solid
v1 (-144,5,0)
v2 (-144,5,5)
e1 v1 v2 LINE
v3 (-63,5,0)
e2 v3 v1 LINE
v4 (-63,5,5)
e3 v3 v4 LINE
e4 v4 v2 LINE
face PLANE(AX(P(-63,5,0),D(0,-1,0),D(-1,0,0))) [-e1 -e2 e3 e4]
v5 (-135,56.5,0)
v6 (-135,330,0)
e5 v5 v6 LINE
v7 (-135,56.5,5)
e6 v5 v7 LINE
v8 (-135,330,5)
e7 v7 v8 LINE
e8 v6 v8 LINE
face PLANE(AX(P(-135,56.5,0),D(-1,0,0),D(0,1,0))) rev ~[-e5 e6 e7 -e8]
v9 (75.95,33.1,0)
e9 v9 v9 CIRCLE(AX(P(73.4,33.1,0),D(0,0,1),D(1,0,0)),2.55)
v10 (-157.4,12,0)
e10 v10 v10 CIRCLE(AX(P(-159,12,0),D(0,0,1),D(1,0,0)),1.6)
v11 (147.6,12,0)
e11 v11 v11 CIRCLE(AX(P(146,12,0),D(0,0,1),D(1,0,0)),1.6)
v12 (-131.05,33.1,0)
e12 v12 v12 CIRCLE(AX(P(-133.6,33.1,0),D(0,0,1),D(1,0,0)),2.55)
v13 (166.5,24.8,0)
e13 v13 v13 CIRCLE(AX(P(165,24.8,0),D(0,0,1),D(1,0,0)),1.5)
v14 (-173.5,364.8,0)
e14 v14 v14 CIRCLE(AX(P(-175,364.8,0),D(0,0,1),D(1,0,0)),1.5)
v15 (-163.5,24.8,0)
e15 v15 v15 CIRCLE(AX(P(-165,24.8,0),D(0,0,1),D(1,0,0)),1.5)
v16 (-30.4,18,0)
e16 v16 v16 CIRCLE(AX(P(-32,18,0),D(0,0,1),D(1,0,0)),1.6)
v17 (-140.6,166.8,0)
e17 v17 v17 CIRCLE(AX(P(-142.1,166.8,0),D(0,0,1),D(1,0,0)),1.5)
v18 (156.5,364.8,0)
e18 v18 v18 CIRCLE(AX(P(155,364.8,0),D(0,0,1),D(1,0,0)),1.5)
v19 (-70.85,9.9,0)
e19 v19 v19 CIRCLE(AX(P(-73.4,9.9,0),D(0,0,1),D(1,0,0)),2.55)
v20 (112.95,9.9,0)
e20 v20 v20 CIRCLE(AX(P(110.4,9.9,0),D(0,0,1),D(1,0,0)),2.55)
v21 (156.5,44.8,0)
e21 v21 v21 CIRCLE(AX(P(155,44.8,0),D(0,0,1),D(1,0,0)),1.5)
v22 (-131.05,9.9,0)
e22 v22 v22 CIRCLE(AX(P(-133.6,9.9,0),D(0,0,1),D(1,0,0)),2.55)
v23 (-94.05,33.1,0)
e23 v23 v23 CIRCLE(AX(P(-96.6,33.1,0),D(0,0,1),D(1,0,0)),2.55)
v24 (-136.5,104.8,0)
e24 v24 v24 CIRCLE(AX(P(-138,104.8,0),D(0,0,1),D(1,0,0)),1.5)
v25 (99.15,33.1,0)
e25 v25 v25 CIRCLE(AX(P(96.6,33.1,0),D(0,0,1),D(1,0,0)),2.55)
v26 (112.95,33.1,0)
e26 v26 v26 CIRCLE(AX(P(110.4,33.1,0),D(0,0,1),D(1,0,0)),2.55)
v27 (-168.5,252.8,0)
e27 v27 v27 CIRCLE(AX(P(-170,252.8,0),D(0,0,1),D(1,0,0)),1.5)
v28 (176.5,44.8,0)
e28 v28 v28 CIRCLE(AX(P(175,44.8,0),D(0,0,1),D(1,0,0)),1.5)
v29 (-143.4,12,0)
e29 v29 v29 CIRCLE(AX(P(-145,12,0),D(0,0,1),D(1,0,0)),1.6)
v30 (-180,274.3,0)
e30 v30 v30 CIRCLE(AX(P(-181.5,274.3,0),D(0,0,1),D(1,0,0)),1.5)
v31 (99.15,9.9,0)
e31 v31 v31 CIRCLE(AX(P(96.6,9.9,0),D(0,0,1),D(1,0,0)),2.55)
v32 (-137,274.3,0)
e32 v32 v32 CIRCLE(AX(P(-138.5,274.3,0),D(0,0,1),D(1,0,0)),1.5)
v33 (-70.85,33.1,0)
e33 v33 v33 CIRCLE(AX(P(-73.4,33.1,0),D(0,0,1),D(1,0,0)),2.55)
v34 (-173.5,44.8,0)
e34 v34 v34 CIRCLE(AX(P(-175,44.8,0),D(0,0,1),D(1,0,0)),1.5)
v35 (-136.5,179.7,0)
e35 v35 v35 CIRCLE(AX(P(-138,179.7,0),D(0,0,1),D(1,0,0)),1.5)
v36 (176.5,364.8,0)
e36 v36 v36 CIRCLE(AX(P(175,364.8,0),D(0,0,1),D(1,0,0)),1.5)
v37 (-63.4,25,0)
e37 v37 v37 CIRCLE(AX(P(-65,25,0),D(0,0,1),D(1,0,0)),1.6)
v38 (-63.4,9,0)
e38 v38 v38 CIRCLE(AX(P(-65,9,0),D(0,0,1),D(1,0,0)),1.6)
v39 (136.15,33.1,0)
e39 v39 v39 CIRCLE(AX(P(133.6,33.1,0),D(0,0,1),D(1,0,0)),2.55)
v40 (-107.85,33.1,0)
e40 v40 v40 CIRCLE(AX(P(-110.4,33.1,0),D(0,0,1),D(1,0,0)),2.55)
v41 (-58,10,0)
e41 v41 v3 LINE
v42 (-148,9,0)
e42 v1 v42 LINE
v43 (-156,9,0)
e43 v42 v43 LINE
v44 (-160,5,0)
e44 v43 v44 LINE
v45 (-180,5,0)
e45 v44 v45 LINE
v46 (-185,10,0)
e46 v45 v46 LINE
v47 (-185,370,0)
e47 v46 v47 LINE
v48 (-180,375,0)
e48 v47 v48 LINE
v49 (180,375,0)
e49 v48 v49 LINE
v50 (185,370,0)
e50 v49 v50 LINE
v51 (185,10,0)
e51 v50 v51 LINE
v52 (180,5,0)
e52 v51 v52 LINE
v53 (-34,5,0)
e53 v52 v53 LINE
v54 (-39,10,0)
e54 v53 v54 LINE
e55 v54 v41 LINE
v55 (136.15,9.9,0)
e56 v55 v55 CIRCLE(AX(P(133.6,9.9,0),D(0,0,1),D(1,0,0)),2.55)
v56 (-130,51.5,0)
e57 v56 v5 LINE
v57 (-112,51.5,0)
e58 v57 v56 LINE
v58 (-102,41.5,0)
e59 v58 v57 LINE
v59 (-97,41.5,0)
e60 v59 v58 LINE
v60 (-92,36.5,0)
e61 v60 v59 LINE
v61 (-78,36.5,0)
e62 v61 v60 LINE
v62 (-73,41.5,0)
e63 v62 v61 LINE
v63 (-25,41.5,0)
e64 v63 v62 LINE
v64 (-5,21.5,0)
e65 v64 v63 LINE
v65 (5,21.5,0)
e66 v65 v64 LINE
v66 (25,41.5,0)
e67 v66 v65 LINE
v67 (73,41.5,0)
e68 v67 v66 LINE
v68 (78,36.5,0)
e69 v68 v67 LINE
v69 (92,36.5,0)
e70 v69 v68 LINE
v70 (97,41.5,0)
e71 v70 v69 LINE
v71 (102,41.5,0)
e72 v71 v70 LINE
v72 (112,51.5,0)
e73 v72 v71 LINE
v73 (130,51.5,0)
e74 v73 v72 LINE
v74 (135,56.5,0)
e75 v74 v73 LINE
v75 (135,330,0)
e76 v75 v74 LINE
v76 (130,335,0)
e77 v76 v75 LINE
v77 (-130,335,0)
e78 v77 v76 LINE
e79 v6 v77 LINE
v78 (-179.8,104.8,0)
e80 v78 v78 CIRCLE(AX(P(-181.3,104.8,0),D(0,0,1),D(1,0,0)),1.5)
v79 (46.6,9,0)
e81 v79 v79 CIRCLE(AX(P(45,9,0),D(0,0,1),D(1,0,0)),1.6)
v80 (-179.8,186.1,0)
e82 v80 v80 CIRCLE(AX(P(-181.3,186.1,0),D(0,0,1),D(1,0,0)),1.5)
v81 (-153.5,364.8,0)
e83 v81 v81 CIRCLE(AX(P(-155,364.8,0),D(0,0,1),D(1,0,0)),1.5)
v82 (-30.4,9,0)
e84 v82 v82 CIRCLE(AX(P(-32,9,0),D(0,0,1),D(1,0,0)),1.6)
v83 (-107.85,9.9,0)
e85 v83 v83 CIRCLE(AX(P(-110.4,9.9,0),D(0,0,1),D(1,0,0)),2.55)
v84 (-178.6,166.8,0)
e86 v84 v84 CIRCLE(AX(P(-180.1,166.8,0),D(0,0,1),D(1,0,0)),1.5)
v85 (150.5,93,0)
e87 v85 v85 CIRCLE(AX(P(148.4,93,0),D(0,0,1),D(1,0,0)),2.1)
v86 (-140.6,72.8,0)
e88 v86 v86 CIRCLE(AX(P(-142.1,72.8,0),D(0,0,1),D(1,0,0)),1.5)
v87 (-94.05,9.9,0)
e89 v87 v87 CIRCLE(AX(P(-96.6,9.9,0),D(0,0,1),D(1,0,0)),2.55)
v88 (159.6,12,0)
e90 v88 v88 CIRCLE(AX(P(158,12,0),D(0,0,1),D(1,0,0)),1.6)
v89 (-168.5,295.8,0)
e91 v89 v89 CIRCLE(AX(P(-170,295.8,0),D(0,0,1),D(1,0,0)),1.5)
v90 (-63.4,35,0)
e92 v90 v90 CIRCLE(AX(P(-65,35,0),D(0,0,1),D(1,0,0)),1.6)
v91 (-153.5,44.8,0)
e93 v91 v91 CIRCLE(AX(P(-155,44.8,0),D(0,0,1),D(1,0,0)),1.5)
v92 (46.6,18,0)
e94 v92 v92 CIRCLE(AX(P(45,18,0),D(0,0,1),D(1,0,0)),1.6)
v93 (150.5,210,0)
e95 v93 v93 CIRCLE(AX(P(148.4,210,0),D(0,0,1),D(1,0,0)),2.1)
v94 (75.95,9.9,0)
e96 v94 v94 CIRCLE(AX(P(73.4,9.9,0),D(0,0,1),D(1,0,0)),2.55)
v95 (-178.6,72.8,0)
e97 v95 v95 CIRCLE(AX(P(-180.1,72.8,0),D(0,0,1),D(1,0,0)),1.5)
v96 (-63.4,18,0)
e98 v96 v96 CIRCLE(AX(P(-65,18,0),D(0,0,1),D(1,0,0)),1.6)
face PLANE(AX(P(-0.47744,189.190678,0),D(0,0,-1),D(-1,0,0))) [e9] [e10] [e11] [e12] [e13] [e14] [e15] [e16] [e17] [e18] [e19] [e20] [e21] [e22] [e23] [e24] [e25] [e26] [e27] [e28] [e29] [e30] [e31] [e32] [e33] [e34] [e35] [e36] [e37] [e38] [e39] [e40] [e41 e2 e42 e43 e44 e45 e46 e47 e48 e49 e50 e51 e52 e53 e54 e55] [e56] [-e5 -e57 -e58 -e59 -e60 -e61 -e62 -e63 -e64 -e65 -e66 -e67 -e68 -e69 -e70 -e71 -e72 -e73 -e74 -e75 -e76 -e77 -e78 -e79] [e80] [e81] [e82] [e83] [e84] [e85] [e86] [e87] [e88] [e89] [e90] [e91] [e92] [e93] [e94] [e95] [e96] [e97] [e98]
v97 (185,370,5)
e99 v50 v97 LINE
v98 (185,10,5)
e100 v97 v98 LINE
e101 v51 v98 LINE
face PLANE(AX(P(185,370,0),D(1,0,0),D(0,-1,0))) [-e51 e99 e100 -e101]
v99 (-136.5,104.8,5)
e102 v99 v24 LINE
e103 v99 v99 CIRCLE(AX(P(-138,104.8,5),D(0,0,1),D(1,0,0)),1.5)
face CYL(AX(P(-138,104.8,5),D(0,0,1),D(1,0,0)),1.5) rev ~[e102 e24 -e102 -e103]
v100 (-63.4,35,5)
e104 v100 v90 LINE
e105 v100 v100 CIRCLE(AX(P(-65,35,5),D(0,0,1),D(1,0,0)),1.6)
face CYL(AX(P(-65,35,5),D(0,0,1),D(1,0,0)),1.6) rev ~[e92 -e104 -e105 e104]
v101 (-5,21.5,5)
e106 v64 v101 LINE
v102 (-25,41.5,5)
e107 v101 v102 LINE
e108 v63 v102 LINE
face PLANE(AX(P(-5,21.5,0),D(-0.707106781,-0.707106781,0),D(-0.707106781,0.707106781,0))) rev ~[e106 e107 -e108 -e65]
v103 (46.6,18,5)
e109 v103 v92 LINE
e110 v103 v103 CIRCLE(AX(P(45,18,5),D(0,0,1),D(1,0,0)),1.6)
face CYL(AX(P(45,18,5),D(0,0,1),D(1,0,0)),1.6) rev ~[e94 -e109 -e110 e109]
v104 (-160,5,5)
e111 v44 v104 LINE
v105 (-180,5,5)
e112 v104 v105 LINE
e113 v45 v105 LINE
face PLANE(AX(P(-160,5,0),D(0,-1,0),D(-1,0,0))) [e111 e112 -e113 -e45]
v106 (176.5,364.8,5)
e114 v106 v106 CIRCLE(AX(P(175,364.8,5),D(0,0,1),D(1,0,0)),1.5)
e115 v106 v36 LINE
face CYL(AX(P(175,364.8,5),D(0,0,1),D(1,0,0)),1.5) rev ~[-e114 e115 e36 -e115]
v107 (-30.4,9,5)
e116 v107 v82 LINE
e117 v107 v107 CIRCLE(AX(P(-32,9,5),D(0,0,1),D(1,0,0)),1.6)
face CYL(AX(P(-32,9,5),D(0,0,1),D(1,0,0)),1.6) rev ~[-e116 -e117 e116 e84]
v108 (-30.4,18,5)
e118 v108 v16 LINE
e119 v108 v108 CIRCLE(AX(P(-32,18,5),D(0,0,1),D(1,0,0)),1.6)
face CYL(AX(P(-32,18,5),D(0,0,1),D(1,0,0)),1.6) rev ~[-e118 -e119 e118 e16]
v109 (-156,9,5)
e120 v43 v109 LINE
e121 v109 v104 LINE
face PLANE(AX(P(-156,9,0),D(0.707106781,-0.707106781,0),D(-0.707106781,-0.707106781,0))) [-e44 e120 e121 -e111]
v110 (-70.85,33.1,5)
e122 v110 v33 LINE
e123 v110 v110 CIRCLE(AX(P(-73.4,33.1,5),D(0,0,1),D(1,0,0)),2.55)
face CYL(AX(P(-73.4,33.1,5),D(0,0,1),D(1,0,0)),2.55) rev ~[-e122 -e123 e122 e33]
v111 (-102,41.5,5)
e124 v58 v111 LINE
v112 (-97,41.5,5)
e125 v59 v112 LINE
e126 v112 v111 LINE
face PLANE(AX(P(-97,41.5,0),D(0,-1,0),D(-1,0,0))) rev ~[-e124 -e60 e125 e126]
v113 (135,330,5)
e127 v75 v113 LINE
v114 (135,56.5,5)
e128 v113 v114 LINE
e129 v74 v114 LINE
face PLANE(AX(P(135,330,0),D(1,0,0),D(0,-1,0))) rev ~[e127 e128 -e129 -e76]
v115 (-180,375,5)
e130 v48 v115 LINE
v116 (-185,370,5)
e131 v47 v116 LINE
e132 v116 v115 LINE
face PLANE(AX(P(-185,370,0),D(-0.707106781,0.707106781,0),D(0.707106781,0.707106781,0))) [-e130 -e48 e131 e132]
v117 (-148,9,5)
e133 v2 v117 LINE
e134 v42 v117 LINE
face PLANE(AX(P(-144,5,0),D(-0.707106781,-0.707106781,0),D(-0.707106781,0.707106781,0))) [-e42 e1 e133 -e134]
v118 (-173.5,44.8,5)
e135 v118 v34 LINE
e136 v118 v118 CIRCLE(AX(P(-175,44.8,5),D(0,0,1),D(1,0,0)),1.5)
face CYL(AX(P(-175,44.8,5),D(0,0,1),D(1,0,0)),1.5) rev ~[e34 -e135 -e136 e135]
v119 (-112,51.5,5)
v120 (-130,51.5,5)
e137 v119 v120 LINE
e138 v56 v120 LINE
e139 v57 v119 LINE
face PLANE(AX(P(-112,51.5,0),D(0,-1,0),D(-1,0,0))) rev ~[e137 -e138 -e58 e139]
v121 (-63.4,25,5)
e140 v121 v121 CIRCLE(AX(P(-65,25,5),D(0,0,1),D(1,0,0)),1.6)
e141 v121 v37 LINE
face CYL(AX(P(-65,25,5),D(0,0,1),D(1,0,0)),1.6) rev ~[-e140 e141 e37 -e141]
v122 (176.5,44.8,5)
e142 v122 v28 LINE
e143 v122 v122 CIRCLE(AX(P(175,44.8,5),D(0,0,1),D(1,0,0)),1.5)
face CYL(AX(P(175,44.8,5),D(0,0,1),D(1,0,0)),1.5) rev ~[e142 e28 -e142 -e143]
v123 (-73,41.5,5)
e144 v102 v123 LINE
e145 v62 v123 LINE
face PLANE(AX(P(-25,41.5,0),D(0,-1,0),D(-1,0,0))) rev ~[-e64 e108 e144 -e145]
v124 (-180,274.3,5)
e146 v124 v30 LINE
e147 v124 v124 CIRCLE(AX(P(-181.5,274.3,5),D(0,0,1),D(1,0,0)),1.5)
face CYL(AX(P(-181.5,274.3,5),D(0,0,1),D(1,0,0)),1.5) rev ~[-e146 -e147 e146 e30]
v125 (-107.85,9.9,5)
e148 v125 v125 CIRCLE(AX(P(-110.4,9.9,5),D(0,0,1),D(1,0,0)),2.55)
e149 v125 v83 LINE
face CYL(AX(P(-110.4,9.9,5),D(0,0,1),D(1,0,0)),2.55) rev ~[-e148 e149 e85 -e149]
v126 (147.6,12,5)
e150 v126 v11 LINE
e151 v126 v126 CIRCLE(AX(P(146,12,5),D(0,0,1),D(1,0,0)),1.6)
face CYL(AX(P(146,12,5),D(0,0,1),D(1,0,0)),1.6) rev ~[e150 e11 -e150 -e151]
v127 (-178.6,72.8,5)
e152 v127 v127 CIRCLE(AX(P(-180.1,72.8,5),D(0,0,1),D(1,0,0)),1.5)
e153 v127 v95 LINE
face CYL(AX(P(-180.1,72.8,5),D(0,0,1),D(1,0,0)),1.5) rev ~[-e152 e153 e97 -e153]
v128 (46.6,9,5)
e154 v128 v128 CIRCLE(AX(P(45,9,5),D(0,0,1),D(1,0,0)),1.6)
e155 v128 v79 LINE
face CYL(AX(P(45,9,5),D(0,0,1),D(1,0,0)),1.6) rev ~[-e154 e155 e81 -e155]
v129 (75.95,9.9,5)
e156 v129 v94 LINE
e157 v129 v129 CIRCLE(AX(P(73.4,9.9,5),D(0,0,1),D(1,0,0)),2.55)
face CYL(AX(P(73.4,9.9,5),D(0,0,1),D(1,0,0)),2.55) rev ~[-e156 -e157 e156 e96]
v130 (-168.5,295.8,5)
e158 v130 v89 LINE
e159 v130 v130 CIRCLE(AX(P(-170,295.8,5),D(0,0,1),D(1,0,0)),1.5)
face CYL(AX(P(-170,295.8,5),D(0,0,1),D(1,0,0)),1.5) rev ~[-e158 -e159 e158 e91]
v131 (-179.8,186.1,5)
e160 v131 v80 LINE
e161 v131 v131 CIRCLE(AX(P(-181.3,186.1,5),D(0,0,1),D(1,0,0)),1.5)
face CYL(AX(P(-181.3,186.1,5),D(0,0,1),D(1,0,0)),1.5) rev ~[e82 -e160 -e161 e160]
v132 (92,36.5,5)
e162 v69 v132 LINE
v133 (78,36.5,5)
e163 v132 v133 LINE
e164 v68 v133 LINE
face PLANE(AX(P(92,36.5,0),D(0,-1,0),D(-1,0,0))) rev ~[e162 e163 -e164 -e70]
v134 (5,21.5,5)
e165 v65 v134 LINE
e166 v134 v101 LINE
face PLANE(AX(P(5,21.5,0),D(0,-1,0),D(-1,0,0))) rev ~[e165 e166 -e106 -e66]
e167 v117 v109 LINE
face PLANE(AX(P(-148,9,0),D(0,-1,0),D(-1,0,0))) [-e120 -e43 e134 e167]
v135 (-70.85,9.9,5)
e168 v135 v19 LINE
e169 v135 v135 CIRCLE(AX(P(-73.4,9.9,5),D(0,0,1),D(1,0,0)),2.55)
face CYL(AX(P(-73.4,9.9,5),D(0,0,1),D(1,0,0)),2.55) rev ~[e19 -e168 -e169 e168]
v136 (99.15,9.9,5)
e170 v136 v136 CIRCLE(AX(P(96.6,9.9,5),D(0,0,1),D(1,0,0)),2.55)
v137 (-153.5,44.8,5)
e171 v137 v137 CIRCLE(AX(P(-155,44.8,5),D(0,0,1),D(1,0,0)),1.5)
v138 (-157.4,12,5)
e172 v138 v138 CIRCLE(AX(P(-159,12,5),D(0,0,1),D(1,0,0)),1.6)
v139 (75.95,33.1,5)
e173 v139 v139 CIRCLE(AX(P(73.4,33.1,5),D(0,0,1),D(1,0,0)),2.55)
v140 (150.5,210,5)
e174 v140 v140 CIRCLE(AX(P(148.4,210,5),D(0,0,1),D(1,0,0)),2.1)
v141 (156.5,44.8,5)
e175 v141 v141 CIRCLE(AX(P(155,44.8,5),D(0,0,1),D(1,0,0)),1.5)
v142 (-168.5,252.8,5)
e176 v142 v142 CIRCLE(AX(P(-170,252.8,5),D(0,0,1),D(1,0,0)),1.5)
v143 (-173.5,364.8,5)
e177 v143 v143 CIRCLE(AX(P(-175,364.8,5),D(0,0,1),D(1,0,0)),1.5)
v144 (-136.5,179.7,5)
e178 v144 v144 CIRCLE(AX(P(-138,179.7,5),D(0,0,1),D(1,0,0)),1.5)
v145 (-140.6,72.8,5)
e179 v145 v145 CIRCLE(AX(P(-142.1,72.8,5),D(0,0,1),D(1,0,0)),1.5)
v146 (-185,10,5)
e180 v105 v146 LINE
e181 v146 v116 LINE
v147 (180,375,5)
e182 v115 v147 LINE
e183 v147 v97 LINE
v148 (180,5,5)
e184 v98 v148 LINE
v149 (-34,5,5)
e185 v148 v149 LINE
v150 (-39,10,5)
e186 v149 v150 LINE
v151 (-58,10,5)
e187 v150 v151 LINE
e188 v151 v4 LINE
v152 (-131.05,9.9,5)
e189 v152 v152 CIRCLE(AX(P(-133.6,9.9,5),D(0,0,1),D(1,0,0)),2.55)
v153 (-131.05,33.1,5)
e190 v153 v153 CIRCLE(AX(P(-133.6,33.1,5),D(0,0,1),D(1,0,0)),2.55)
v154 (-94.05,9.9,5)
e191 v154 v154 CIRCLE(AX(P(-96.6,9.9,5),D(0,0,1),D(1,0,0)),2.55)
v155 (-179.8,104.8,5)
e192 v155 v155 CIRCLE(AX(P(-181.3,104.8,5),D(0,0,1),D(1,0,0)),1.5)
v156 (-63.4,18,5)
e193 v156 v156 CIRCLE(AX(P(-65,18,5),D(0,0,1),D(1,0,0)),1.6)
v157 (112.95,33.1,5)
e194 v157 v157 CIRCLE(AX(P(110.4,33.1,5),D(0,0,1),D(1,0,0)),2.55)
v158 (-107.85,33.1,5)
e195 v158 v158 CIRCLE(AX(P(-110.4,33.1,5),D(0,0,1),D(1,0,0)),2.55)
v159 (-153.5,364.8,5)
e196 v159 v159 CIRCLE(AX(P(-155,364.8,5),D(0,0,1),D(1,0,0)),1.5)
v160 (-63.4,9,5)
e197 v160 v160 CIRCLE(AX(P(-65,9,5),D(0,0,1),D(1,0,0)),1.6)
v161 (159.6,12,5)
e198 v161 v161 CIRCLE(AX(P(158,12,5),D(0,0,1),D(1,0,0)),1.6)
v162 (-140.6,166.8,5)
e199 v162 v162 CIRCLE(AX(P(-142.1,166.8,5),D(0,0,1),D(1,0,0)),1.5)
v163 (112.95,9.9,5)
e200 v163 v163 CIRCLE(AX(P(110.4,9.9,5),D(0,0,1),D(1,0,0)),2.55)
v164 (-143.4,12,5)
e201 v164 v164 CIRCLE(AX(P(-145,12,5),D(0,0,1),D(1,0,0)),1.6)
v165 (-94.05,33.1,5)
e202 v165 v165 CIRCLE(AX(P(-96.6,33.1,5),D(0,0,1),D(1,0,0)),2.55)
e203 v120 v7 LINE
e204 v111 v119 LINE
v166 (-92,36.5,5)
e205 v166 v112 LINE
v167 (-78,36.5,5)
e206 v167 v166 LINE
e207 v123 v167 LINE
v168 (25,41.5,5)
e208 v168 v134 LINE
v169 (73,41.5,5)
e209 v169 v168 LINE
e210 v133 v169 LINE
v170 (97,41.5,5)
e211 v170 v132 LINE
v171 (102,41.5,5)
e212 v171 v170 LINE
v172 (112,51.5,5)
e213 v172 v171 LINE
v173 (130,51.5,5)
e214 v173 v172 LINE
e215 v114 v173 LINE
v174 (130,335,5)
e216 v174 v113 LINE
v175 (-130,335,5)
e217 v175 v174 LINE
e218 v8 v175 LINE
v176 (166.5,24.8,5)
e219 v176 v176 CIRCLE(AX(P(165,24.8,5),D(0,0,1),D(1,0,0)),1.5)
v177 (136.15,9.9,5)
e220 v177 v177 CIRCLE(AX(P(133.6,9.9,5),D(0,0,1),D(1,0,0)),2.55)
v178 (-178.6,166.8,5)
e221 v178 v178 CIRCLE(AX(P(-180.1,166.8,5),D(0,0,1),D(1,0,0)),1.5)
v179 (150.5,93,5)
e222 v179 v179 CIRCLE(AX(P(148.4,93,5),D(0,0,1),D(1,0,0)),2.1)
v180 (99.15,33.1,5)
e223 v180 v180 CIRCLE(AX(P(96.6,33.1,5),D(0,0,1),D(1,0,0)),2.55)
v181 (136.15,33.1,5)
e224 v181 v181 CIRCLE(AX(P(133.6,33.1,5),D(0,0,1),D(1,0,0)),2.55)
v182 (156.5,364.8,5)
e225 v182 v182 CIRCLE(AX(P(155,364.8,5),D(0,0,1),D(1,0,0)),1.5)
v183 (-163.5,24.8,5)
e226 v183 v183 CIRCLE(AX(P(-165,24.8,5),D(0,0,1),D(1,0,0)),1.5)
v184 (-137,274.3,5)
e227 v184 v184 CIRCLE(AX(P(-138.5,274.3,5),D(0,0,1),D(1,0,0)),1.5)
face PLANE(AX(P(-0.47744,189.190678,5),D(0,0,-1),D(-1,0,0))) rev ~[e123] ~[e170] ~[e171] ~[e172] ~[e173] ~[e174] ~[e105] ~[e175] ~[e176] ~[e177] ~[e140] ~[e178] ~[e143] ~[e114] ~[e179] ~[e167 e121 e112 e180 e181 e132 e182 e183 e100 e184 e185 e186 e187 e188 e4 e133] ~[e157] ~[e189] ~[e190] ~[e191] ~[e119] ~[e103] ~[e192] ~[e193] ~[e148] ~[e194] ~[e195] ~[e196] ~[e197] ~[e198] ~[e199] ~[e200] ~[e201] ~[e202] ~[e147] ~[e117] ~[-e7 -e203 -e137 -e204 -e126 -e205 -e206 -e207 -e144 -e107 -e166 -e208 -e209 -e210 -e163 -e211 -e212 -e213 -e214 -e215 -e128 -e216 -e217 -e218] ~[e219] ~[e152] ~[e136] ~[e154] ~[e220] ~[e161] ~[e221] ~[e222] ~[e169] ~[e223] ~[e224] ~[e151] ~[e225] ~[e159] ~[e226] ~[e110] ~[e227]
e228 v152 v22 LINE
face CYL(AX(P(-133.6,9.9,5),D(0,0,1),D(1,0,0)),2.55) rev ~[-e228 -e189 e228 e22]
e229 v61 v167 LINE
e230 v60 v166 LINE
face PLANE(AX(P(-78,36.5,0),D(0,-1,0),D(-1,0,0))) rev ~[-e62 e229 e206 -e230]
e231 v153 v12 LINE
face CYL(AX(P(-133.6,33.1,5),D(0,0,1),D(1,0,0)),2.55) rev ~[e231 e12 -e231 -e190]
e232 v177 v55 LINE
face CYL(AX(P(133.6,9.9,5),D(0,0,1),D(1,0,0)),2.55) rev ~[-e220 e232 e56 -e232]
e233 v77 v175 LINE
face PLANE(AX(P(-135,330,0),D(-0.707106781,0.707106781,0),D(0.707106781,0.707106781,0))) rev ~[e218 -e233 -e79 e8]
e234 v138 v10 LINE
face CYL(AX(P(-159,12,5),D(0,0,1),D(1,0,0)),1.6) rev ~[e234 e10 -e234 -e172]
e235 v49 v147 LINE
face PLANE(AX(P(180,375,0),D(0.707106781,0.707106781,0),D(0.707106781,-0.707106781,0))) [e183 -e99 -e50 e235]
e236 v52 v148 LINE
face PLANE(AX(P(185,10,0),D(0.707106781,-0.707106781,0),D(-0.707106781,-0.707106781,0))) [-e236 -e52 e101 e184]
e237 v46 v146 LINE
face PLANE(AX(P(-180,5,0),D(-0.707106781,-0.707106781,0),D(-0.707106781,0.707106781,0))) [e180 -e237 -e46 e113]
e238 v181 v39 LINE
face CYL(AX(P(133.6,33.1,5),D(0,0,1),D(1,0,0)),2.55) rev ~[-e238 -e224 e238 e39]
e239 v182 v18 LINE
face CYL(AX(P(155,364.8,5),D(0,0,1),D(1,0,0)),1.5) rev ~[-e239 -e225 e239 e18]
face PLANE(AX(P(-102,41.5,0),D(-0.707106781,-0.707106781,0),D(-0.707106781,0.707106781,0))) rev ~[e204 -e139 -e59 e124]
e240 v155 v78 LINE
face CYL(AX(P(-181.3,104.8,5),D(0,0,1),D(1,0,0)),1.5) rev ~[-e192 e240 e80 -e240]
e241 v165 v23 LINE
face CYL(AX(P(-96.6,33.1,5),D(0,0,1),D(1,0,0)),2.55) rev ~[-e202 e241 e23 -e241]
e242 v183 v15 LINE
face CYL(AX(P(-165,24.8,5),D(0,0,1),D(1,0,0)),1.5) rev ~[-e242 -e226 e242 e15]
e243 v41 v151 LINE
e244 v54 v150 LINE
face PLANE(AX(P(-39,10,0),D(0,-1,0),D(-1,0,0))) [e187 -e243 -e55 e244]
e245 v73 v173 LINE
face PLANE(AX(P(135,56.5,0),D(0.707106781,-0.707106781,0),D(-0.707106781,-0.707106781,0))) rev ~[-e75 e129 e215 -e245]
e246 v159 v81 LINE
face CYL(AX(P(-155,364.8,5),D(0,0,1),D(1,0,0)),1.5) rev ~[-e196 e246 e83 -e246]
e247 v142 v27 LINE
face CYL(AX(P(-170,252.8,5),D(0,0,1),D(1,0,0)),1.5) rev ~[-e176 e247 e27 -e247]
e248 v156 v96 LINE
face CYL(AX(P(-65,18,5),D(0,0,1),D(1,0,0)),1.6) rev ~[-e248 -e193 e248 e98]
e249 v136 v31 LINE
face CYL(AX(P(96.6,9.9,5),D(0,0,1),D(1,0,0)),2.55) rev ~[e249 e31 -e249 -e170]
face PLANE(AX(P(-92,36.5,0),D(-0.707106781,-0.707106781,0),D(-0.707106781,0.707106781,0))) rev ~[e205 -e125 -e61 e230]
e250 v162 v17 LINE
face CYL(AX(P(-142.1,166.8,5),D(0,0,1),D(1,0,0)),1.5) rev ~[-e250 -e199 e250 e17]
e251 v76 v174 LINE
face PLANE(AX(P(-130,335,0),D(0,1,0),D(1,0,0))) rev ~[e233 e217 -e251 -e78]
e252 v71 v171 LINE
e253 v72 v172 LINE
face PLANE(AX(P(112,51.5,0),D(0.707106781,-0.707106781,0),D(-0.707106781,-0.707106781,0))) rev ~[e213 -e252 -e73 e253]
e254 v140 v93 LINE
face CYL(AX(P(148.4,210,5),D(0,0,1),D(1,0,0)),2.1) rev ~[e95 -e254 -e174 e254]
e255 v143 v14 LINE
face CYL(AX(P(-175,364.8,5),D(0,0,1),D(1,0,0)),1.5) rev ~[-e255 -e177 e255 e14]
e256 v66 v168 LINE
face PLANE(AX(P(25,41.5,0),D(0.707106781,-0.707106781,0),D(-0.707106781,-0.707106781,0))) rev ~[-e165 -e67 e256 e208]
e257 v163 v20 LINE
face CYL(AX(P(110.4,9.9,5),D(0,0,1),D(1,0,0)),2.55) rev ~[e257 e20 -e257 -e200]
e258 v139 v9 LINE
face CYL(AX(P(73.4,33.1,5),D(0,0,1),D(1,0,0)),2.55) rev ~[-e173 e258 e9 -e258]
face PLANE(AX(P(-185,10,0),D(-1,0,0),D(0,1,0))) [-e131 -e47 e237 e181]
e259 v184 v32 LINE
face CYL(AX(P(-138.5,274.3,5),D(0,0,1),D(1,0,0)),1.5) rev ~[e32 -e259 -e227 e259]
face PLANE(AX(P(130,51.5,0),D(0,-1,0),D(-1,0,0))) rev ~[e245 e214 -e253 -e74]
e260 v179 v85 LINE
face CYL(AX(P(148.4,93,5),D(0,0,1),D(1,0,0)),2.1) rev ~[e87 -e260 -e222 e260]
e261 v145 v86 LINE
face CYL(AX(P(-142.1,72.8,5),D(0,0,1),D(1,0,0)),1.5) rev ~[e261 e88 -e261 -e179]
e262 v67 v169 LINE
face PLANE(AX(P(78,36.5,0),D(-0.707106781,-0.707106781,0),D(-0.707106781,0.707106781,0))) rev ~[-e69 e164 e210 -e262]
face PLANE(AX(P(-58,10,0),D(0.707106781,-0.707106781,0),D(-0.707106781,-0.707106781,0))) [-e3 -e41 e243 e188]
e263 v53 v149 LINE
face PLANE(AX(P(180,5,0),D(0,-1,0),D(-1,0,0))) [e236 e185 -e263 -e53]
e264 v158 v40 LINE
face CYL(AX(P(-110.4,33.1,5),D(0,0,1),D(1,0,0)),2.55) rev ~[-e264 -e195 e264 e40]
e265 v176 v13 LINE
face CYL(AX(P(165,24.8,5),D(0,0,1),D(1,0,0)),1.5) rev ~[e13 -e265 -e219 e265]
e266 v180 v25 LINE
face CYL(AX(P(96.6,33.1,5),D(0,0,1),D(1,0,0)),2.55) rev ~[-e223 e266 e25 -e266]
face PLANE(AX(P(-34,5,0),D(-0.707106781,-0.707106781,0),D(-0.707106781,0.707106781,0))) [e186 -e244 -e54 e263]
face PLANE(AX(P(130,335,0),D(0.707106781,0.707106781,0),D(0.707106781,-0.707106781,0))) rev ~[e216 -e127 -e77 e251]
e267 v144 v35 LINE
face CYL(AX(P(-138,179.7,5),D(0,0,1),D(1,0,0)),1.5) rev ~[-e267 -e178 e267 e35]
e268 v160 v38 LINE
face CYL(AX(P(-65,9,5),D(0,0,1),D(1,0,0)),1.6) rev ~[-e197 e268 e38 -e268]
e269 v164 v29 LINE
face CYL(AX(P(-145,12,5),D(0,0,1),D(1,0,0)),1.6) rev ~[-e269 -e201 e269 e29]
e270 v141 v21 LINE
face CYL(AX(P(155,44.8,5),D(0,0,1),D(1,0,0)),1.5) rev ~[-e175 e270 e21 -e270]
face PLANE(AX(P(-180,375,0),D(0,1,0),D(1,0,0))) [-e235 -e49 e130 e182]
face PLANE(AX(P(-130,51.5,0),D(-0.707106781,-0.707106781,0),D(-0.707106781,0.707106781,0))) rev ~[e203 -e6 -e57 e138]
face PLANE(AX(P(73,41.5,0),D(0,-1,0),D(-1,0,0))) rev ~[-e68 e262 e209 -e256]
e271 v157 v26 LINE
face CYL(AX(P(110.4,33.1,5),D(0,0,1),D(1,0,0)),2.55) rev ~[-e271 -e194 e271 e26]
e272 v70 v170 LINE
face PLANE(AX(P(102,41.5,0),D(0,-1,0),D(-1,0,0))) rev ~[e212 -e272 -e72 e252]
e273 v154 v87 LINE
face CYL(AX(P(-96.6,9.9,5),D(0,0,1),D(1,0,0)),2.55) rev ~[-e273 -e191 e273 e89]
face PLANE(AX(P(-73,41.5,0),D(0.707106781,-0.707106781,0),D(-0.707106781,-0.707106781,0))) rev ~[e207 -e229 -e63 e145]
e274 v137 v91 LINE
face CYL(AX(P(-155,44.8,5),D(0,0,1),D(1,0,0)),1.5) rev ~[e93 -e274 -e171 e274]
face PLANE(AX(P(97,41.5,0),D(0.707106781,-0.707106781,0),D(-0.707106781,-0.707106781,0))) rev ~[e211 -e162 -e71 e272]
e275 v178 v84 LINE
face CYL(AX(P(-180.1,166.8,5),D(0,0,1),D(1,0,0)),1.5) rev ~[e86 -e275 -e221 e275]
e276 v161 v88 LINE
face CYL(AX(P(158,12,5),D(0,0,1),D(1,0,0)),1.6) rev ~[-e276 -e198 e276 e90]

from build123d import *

# Parameters (mm, degrees)
PAD_DEPTH       = 5
SKETCH001_R     = 1.5
SKETCH001_R_2   = 1.6
SKETCH001_R_3   = 2.1
POCKET_DEPTH    = 5.001
SKETCH002_R     = 2.55
POCKET001_DEPTH = 5.001


with BuildPart() as part:
    # Sketch → Pad (new body)
    with BuildSketch(Plane.XY):
        Polygon((-180, 375), (180, 375), (185, 370), (185, 10), (180, 5), (-34, 5), (-39, 10), (-58, 10), (-63, 5), (-144, 5), (-148, 9), (-156, 9), (-160, 5), (-180, 5), (-185, 10), (-185, 370), align=None)
        Polygon((-135, 56.5), (-135, 330), (-130, 335), (130, 335), (135, 330), (135, 56.5), (130, 51.5), (112, 51.5), (102, 41.5), (97, 41.5), (92, 36.5), (78, 36.5), (73, 41.5), (25, 41.5), (5, 21.5), (-5, 21.5), (-25, 41.5), (-73, 41.5), (-78, 36.5), (-92, 36.5), (-97, 41.5), (-102, 41.5), (-112, 51.5), (-130, 51.5), align=None, mode=Mode.SUBTRACT)
    extrude(amount=PAD_DEPTH)

    # Sketch001 → Pocket (cut, through all)
    with BuildSketch(Plane.XY.offset(5)):
        with Locations((-175, 364.8)):
            Circle(SKETCH001_R)
        with Locations((-155, 364.8)):
            Circle(SKETCH001_R)
        with Locations((155, 364.8)):
            Circle(SKETCH001_R)
        with Locations((175, 364.8)):
            Circle(SKETCH001_R)
        with Locations((-175, 44.8)):
            Circle(SKETCH001_R)
        with Locations((-155, 44.8)):
            Circle(SKETCH001_R)
        with Locations((155, 44.8)):
            Circle(SKETCH001_R)
        with Locations((175, 44.8)):
            Circle(SKETCH001_R)
        with Locations((-32, 18)):
            Circle(SKETCH001_R_2)
        with Locations((-32, 9)):
            Circle(SKETCH001_R_2)
        with Locations((-65, 18)):
            Circle(SKETCH001_R_2)
        with Locations((-65, 9)):
            Circle(SKETCH001_R_2)
        with Locations((45, 18)):
            Circle(SKETCH001_R_2)
        with Locations((45, 9)):
            Circle(SKETCH001_R_2)
        with Locations((-65, 25)):
            Circle(SKETCH001_R_2)
        with Locations((-65, 35)):
            Circle(SKETCH001_R_2)
        with Locations((-165, 24.8)):
            Circle(SKETCH001_R)
        with Locations((-159, 12)):
            Circle(SKETCH001_R_2)
        with Locations((-145, 12)):
            Circle(SKETCH001_R_2)
        with Locations((165, 24.8)):
            Circle(SKETCH001_R)
        with Locations((146, 12)):
            Circle(SKETCH001_R_2)
        with Locations((158, 12)):
            Circle(SKETCH001_R_2)
        with Locations((-142.1, 72.8)):
            Circle(SKETCH001_R)
        with Locations((-138, 104.8)):
            Circle(SKETCH001_R)
        with Locations((-180.1, 72.8)):
            Circle(SKETCH001_R)
        with Locations((-181.3, 186.1)):
            Circle(SKETCH001_R)
        with Locations((-180.1, 166.8)):
            Circle(SKETCH001_R)
        with Locations((-181.3, 104.8)):
            Circle(SKETCH001_R)
        with Locations((-142.1, 166.8)):
            Circle(SKETCH001_R)
        with Locations((-138, 179.7)):
            Circle(SKETCH001_R)
        with Locations((-170, 252.8)):
            Circle(SKETCH001_R)
        with Locations((-181.5, 274.3)):
            Circle(SKETCH001_R)
        with Locations((-170, 295.8)):
            Circle(SKETCH001_R)
        with Locations((-138.5, 274.3)):
            Circle(SKETCH001_R)
        with Locations((148.4, 210)):
            Circle(SKETCH001_R_3)
        with Locations((148.4, 93)):
            Circle(SKETCH001_R_3)
    extrude(amount=-POCKET_DEPTH, mode=Mode.SUBTRACT)

    # Sketch002 → Pocket001 (cut, through all)
    with BuildSketch(Plane.XY.offset(5)):
        with Locations((-133.6, 33.1)):
            Circle(SKETCH002_R)
        with Locations((-110.4, 33.1)):
            Circle(SKETCH002_R)
        with Locations((-96.6, 33.1)):
            Circle(SKETCH002_R)
        with Locations((-73.4, 33.1)):
            Circle(SKETCH002_R)
        with Locations((-73.4, 9.9)):
            Circle(SKETCH002_R)
        with Locations((-96.6, 9.9)):
            Circle(SKETCH002_R)
        with Locations((-110.4, 9.9)):
            Circle(SKETCH002_R)
        with Locations((-133.6, 9.9)):
            Circle(SKETCH002_R)
        with Locations((73.4, 33.1)):
            Circle(SKETCH002_R)
        with Locations((96.6, 33.1)):
            Circle(SKETCH002_R)
        with Locations((110.4, 33.1)):
            Circle(SKETCH002_R)
        with Locations((133.6, 33.1)):
            Circle(SKETCH002_R)
        with Locations((133.6, 9.9)):
            Circle(SKETCH002_R)
        with Locations((110.4, 9.9)):
            Circle(SKETCH002_R)
        with Locations((96.6, 9.9)):
            Circle(SKETCH002_R)
        with Locations((73.4, 9.9)):
            Circle(SKETCH002_R)
    extrude(amount=-POCKET001_DEPTH, mode=Mode.SUBTRACT)


solid = part.part
